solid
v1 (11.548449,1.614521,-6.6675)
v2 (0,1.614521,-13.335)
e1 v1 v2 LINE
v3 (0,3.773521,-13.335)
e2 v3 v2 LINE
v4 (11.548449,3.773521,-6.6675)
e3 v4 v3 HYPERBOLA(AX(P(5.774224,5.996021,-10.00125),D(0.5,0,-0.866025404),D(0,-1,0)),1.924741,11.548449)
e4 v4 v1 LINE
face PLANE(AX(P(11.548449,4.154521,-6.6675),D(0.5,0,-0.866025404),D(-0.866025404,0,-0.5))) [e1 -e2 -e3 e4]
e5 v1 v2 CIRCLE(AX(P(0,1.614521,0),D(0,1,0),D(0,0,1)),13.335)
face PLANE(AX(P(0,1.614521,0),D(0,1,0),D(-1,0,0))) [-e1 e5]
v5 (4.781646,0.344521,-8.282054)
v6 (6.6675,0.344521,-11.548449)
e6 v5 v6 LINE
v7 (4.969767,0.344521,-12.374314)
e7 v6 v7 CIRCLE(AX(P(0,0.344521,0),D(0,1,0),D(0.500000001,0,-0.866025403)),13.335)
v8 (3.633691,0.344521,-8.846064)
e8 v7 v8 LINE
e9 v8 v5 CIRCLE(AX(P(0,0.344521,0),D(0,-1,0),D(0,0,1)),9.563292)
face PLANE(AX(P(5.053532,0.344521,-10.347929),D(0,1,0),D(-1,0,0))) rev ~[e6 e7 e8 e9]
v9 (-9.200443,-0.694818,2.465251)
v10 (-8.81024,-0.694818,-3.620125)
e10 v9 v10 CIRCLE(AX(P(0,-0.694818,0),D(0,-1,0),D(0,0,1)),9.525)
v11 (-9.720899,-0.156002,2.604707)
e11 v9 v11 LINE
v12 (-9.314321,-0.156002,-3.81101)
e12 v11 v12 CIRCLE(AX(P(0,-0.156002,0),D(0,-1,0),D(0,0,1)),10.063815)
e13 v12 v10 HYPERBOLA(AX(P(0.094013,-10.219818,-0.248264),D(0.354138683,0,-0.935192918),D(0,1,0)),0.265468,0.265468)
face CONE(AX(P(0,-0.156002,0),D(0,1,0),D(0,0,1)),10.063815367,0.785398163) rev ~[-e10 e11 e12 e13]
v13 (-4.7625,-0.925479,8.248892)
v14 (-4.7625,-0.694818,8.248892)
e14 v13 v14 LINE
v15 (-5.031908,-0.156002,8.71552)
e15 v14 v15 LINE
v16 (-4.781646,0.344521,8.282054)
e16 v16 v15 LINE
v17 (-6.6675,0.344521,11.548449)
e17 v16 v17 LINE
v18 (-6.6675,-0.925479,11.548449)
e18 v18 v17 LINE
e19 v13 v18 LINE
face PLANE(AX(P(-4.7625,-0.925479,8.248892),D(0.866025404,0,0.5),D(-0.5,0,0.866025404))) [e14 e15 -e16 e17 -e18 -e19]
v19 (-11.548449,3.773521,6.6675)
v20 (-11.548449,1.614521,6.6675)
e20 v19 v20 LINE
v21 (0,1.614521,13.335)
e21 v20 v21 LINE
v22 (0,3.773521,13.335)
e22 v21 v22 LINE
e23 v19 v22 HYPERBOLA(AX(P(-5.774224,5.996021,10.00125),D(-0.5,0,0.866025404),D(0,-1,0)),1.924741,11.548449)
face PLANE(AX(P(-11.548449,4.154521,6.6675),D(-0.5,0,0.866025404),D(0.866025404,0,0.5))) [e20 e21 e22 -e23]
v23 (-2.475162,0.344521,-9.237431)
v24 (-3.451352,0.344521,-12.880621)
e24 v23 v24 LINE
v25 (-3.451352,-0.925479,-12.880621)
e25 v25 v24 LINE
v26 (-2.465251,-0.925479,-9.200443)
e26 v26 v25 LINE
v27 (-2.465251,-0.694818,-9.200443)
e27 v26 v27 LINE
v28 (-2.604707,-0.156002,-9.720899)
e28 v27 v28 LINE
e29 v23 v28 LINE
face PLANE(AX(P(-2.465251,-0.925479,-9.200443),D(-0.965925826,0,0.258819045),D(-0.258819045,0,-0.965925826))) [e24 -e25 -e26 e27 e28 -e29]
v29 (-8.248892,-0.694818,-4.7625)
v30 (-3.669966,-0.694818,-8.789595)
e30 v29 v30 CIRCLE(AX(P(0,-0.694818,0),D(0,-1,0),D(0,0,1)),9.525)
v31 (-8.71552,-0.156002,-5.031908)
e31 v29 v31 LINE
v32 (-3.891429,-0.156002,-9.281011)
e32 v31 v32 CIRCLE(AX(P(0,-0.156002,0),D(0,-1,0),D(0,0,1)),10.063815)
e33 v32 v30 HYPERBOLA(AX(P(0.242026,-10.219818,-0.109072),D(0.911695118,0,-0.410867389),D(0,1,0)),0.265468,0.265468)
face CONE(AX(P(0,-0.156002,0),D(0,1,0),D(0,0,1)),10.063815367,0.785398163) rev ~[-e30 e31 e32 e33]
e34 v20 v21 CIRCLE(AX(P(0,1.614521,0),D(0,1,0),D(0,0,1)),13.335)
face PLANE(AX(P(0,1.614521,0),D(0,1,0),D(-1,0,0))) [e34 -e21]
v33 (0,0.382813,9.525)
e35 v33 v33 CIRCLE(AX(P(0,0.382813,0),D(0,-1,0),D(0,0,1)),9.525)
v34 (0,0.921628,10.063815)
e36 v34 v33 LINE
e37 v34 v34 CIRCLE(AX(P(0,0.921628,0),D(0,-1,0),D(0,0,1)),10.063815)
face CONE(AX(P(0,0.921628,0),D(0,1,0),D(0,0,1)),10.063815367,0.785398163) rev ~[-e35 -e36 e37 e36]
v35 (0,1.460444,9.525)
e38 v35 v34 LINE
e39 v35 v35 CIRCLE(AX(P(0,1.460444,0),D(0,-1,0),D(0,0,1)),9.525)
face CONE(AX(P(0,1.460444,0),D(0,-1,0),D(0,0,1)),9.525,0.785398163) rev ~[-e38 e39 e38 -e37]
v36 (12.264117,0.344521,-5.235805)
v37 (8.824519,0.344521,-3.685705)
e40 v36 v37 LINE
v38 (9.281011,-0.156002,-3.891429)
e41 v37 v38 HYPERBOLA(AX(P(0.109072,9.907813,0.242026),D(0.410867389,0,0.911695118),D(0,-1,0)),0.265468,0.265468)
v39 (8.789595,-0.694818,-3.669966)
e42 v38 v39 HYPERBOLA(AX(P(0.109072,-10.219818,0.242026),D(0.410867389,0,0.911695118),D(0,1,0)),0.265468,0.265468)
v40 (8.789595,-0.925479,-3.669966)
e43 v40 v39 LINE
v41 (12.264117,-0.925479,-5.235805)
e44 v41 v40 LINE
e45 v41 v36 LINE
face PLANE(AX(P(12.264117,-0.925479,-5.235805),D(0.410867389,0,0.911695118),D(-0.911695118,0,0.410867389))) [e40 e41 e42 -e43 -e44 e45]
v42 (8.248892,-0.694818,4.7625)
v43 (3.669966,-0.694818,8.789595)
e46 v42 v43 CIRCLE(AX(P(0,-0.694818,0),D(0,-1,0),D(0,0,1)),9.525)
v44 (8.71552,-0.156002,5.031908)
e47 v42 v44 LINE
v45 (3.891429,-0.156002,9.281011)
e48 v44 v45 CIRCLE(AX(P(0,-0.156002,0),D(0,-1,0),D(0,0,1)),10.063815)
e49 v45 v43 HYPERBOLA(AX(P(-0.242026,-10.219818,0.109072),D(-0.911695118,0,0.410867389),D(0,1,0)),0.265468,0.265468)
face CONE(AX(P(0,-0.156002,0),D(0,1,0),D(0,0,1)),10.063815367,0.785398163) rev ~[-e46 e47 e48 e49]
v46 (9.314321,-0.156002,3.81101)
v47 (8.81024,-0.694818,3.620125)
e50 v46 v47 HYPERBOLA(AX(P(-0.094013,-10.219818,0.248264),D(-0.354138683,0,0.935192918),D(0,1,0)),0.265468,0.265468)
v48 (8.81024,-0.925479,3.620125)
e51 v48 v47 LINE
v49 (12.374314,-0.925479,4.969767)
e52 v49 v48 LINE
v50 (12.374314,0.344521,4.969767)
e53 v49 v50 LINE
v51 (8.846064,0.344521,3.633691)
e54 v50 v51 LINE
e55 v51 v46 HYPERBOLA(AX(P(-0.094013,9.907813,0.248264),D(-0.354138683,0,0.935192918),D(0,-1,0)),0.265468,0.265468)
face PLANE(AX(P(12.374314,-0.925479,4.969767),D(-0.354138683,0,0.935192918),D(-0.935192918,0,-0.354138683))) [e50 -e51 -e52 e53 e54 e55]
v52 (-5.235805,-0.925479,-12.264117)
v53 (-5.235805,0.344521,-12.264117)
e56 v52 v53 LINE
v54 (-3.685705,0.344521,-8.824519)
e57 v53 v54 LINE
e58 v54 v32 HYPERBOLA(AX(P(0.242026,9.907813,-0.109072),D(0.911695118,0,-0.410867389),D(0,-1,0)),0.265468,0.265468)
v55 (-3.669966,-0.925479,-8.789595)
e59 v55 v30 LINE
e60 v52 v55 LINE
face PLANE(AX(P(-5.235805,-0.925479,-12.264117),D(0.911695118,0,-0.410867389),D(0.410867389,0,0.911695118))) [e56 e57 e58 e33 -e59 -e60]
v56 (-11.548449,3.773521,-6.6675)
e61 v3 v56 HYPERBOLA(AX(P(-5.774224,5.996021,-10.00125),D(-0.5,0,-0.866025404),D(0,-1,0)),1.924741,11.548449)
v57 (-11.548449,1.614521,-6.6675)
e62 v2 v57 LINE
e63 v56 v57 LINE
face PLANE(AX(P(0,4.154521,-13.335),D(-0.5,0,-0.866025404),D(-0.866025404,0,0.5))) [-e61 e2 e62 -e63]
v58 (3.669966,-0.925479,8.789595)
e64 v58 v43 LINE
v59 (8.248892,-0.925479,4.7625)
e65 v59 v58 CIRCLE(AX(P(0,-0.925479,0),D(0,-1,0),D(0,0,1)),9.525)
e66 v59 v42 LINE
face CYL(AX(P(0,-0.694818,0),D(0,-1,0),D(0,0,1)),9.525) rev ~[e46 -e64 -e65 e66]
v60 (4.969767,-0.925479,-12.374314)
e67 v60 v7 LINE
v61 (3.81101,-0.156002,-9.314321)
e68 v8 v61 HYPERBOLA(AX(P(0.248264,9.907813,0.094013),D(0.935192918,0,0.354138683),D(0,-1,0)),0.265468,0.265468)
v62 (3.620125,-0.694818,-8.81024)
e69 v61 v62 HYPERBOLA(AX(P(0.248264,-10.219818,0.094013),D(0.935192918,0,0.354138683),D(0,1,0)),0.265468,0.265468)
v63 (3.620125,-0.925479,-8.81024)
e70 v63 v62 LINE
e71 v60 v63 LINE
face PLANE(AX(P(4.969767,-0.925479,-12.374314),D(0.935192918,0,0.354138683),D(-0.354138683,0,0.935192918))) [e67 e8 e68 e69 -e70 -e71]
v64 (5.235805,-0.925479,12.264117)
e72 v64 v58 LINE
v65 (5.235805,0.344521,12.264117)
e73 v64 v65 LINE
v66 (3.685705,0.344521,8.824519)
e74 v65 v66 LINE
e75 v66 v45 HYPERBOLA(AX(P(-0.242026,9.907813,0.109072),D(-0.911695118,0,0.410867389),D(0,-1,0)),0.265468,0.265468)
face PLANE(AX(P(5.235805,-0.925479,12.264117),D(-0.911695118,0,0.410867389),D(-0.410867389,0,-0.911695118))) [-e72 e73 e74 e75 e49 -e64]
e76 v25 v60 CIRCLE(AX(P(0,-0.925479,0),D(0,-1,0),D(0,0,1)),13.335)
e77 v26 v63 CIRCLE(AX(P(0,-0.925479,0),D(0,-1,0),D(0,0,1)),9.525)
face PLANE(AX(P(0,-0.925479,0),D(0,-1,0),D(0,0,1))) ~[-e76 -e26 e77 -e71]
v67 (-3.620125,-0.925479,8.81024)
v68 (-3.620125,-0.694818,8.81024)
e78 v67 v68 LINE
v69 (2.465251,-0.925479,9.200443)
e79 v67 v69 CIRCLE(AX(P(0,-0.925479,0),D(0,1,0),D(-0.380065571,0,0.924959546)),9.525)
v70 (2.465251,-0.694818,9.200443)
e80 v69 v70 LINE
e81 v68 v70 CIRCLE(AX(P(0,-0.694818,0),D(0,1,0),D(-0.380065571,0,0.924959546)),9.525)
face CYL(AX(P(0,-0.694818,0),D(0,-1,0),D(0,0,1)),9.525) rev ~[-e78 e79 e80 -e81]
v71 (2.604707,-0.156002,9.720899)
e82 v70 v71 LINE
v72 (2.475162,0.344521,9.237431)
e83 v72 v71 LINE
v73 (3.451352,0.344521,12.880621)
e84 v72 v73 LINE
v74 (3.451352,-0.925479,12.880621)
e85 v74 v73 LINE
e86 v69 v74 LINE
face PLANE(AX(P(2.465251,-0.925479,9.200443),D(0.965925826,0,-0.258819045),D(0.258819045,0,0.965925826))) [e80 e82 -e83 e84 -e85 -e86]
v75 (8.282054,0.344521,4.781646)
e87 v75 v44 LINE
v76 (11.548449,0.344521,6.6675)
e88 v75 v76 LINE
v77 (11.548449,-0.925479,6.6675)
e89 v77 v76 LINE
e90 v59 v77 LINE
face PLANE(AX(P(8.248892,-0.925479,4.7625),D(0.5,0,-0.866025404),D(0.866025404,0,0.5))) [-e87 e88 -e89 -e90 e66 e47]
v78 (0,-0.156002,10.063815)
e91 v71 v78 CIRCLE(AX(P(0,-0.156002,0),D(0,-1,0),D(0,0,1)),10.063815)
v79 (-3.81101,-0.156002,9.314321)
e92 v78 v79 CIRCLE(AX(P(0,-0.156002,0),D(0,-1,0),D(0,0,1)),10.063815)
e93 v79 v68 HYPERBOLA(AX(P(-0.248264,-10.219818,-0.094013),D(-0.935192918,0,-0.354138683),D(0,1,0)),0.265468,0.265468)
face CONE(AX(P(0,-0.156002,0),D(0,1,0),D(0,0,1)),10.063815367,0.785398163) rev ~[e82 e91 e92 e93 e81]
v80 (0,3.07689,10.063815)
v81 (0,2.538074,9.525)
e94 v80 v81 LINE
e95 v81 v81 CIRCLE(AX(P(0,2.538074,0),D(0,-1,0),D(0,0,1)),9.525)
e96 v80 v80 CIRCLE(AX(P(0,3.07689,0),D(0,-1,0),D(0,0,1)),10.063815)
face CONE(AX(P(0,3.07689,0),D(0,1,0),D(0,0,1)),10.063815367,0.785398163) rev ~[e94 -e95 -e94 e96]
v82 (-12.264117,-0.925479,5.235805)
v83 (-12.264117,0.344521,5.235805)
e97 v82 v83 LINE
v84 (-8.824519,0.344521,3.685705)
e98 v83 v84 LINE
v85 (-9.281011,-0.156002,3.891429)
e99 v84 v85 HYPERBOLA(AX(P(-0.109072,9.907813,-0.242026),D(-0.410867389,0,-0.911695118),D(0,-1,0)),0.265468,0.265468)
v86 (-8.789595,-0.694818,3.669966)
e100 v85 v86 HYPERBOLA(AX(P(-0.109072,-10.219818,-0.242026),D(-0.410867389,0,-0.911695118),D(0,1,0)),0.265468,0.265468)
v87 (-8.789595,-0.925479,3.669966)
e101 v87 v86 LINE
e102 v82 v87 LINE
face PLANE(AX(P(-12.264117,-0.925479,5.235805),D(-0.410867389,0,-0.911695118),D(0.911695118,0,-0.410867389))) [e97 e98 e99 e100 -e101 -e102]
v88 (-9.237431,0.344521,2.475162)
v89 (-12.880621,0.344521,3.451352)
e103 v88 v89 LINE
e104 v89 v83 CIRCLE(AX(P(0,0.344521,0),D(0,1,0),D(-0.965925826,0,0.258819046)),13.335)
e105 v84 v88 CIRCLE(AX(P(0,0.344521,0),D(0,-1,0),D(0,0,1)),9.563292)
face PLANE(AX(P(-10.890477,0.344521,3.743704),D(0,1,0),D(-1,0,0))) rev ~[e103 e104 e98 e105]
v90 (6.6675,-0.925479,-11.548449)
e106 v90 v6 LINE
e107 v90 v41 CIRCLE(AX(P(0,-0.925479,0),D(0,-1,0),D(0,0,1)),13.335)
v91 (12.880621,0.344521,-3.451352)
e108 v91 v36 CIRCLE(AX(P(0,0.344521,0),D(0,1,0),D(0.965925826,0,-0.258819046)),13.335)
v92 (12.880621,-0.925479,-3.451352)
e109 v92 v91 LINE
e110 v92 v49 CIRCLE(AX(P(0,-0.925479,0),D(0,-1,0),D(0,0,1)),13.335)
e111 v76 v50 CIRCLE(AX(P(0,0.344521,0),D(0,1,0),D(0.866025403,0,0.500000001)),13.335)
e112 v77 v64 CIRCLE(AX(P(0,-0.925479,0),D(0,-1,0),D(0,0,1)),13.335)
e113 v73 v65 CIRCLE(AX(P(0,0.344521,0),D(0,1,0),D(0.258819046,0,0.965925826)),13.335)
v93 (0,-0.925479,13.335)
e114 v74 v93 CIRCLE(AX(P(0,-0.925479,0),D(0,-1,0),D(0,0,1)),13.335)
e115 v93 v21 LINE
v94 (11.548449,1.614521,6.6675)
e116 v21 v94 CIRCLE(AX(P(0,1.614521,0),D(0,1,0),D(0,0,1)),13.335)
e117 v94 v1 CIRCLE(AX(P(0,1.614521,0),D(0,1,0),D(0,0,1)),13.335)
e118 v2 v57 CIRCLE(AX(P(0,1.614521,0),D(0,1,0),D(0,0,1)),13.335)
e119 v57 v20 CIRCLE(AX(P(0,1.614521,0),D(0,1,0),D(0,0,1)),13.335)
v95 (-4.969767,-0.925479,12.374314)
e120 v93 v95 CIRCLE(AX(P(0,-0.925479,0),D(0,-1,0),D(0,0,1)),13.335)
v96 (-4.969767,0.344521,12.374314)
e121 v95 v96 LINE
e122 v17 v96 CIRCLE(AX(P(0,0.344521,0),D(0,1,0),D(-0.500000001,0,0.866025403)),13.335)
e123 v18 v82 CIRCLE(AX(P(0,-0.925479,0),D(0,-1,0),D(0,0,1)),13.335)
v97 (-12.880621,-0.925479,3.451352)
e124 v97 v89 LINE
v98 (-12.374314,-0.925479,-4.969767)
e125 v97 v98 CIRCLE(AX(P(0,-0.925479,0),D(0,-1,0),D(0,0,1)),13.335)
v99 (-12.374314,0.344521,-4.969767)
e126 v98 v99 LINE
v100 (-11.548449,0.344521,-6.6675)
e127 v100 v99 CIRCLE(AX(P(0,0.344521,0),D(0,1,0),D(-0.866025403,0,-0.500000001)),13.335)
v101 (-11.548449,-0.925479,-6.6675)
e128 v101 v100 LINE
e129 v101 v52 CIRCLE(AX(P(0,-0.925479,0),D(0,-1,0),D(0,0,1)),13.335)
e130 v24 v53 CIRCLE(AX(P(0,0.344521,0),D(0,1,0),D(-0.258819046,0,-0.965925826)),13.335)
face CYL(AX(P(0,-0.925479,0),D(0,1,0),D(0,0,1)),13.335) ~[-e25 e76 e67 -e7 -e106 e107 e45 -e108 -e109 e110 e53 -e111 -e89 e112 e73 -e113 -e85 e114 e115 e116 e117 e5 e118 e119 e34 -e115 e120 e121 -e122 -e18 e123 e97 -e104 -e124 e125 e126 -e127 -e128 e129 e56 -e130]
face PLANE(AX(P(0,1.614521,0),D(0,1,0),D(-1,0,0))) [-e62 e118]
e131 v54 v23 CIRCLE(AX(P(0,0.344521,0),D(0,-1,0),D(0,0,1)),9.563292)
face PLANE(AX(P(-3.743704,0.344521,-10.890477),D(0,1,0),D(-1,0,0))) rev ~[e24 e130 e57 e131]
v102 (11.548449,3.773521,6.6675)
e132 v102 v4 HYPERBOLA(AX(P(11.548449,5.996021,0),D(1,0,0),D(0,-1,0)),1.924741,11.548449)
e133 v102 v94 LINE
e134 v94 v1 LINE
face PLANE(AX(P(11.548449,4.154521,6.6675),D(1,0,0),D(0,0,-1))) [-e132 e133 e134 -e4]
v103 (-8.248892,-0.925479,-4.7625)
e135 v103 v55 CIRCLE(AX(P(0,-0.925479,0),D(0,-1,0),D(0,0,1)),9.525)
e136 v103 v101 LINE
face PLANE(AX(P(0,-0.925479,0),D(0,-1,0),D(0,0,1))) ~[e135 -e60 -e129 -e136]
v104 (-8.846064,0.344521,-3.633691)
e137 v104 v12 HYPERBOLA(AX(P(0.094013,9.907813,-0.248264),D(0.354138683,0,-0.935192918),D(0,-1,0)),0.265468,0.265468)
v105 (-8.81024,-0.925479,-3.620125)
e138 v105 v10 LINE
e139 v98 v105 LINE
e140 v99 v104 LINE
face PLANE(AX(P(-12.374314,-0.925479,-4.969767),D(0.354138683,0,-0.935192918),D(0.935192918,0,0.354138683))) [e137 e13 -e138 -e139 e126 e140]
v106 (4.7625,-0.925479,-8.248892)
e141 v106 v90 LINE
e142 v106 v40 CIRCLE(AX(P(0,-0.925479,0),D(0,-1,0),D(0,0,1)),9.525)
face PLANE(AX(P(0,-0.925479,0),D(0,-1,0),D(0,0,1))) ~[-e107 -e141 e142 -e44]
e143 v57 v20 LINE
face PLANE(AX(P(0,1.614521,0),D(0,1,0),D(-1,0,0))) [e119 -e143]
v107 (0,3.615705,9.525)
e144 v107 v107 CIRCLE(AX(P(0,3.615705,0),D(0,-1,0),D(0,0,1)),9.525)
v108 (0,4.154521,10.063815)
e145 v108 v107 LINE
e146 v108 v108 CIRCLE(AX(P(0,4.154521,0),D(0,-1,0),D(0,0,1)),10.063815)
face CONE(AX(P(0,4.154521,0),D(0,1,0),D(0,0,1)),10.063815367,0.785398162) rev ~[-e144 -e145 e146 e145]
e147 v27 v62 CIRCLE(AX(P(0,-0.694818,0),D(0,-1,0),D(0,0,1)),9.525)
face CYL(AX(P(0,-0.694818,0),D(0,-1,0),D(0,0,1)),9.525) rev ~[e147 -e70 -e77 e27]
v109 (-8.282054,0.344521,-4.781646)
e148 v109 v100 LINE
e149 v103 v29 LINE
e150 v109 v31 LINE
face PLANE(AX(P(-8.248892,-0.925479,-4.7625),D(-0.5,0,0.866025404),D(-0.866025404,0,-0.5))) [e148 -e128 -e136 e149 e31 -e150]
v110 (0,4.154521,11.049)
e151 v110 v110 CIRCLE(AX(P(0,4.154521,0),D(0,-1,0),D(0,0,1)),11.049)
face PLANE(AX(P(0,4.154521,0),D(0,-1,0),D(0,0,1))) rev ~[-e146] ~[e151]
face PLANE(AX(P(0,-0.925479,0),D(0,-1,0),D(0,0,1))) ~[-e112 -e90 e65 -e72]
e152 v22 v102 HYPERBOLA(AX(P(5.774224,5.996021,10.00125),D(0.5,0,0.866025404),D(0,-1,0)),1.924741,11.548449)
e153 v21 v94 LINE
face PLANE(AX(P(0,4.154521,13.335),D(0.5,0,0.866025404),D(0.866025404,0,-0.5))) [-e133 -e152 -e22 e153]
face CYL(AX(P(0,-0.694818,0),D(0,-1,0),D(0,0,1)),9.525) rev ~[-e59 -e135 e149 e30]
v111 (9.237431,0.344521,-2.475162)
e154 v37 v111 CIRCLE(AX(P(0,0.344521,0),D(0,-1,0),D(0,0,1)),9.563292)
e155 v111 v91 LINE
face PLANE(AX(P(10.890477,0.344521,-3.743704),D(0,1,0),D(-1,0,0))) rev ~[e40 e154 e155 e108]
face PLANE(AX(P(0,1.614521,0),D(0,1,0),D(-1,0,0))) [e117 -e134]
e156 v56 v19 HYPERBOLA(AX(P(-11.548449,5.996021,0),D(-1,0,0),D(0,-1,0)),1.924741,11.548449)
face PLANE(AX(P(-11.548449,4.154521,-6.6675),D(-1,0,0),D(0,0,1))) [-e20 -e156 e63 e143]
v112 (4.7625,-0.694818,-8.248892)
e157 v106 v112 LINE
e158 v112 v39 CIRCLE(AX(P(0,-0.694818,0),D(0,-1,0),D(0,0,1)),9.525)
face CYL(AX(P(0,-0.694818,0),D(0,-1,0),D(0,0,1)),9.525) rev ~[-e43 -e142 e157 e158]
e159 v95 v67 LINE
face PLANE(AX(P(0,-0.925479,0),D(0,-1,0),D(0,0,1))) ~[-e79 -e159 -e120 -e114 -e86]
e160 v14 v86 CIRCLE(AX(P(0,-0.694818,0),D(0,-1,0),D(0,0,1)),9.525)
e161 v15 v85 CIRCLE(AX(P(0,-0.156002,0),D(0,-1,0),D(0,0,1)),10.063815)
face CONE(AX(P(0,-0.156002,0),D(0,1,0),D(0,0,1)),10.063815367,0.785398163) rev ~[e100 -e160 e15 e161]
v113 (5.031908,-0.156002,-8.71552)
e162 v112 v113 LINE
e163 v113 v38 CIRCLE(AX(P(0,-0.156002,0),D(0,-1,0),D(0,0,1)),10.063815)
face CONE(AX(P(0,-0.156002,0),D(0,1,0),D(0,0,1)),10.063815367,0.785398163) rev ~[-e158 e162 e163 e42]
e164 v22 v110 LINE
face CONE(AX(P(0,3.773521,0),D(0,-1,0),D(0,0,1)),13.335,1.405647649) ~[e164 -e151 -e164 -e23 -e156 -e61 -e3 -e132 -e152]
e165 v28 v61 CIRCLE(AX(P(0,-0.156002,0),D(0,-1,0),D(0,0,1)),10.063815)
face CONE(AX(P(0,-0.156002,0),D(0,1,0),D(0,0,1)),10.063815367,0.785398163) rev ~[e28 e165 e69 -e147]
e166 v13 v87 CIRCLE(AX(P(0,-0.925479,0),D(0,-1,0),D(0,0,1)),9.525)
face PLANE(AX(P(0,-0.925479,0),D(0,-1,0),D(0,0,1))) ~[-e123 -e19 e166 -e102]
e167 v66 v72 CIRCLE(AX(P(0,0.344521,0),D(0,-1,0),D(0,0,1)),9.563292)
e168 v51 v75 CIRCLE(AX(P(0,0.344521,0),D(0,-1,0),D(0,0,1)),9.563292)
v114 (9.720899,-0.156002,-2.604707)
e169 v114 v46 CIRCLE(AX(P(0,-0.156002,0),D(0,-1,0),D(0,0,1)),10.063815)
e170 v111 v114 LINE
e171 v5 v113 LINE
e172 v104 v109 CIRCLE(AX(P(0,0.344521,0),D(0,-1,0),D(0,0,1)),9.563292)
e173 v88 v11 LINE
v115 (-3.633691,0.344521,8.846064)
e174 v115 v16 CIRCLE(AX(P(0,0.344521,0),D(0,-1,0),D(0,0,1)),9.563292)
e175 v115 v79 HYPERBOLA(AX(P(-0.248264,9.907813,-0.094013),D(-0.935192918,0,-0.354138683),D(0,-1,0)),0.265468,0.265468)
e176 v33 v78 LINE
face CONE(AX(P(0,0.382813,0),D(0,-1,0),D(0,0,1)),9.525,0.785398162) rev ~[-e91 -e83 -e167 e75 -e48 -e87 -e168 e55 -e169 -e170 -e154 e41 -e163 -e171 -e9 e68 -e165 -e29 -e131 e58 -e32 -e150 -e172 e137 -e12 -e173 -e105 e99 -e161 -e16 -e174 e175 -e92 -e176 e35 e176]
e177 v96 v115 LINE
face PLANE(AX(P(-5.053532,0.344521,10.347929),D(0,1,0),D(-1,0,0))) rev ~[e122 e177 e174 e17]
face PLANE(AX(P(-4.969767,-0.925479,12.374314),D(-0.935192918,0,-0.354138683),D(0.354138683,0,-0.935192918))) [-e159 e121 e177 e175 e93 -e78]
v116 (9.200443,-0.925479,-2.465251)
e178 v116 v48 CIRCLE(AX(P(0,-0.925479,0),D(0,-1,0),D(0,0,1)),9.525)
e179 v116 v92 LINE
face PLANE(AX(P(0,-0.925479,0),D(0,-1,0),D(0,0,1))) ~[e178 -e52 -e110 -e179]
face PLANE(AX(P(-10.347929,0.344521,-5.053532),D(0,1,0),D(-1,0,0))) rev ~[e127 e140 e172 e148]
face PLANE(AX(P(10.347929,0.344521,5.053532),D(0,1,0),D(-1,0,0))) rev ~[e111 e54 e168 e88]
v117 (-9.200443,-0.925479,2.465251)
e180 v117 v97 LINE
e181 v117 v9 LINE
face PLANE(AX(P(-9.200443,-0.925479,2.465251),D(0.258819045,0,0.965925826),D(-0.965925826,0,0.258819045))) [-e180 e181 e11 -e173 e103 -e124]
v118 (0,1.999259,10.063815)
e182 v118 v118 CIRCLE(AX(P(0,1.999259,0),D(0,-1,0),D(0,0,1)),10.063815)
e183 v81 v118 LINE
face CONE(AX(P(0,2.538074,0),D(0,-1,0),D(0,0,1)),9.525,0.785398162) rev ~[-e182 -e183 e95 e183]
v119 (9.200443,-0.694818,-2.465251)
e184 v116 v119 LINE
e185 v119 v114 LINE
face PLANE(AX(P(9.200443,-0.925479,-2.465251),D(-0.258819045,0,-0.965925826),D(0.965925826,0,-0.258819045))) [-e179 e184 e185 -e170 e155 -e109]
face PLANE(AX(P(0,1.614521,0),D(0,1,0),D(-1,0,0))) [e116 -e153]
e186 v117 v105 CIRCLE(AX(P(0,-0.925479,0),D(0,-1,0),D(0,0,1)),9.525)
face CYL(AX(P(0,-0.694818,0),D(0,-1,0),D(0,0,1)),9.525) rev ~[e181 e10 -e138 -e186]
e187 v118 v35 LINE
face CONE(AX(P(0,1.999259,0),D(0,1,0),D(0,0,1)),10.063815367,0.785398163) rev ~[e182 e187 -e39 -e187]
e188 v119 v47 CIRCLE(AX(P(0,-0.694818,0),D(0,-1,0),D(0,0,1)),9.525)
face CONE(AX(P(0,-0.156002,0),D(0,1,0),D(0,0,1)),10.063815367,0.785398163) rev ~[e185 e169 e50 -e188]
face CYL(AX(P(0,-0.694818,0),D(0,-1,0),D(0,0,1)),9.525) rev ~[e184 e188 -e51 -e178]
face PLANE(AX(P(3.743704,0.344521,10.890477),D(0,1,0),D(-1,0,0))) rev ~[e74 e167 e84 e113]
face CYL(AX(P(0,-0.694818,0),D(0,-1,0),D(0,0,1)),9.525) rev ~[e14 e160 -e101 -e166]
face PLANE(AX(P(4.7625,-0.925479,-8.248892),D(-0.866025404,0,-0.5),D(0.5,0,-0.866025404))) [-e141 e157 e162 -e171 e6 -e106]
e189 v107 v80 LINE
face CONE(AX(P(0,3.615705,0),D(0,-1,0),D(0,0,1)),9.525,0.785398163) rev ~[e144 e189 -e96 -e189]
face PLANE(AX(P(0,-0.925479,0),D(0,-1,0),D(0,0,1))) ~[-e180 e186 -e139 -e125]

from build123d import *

# Parameters (mm, degrees)
SKETCH2_OUTSIDE_W  = 36.282
SKETCH2_OUTSIDE_H  = 36.282
CUT_EXTRUDE1_DEPTH = 2.54
CUT_EXTRUDE2_DEPTH = 1.27


with BuildPart() as part:
    # Sketch1 → Revolve1 (revolve)
    with BuildSketch(Plane(origin=(0, 0, 0), x_dir=(0, 0, -1), z_dir=(1, 0, 0)), mode=Mode.PRIVATE) as revolve1_sk:
        Polygon((9.525, -0.925479408), (13.335, -0.925479408), (13.335, 3.773520592), (11.049, 4.154520592), (10.063815367, 4.154520592), (9.525, 3.615705224), (10.063815367, 3.076889857), (9.525, 2.53807449), (10.063815367, 1.999259122), (9.525, 1.460443755), (10.063815367, 0.921628388), (9.525, 0.382813021), (10.063815367, -0.156002347), (9.525, -0.694817714), align=None)
    revolve(revolve1_sk.sketch.rotate(Axis((0, 15.090367901, 0), (0, -1, 0)), 180), axis=Axis((0, 15.090367901, 0), (0, -1, 0)))

    # Sketch2 outside → Cut-Extrude1 (cut)
    with BuildSketch(Plane(origin=(0, 4.154520592, 0), x_dir=(-1, 0, 0), z_dir=(0, 1, 0))):
        Rectangle(SKETCH2_OUTSIDE_W, SKETCH2_OUTSIDE_H)
        Polygon((0, -13.335), (11.548448759, -6.6675), (11.548448759, 6.6675), (0, 13.335), (-11.548448759, 6.6675), (-11.548448759, -6.6675), align=None, mode=Mode.SUBTRACT)
    extrude(amount=-CUT_EXTRUDE1_DEPTH, mode=Mode.SUBTRACT)

    # Sketch3 → Cut-Extrude2 (cut)
    with BuildSketch(Plane.XZ.offset(0.925479408)):
        with BuildLine():
            Line((-4.7625, 8.248891971), (-6.6675, 11.548448759))
            ThreePointArc((-6.6675, 11.548448759), (-5.833267647, 11.991464196), (-4.969767422, 12.374313588))
            Line((-4.969767422, 12.374313588), (-3.620124564, 8.810239675))
            ThreePointArc((-3.620124564, 8.810239675), (-4.20069952, 8.548669402), (-4.7625, 8.248891971))
        make_face()
        with BuildLine():
            Line((2.465251405, 9.200443495), (3.451351966, 12.880620894))
            ThreePointArc((3.451351966, 12.880620894), (4.354502539, 12.603988759), (5.235804805, 12.264117296))
            Line((5.235804805, 12.264117296), (3.66996559, 8.789594847))
            ThreePointArc((3.66996559, 8.789594847), (3.074478988, 9.015165221), (2.465251405, 9.200443495))
        make_face()
        with BuildLine():
            Line((8.248891971, 4.7625), (11.548448759, 6.6675))
            ThreePointArc((11.548448759, 6.6675), (11.991464196, 5.833267647), (12.374313588, 4.969767422))
            Line((12.374313588, 4.969767422), (8.810239675, 3.620124564))
            ThreePointArc((8.810239675, 3.620124564), (8.548669402, 4.20069952), (8.248891971, 4.7625))
        make_face()
        with BuildLine():
            Line((9.200443495, -2.465251405), (12.880620894, -3.451351966))
            ThreePointArc((12.880620894, -3.451351966), (12.603988759, -4.354502539), (12.264117296, -5.235804805))
            Line((12.264117296, -5.235804805), (8.789594847, -3.66996559))
            ThreePointArc((8.789594847, -3.66996559), (9.015165221, -3.074478988), (9.200443495, -2.465251405))
        make_face()
        with BuildLine():
            Line((4.7625, -8.248891971), (6.6675, -11.548448759))
            ThreePointArc((6.6675, -11.548448759), (5.833267647, -11.991464196), (4.969767422, -12.374313588))
            Line((4.969767422, -12.374313588), (3.620124564, -8.810239675))
            ThreePointArc((3.620124564, -8.810239675), (4.20069952, -8.548669402), (4.7625, -8.248891971))
        make_face()
        with BuildLine():
            Line((-2.465251405, -9.200443495), (-3.451351966, -12.880620894))
            ThreePointArc((-3.451351966, -12.880620894), (-4.354502539, -12.603988759), (-5.235804805, -12.264117296))
            Line((-5.235804805, -12.264117296), (-3.66996559, -8.789594847))
            ThreePointArc((-3.66996559, -8.789594847), (-3.074478988, -9.015165221), (-2.465251405, -9.200443495))
        make_face()
        with BuildLine():
            Line((-8.248891971, -4.7625), (-11.548448759, -6.6675))
            ThreePointArc((-11.548448759, -6.6675), (-11.991464196, -5.833267647), (-12.374313588, -4.969767422))
            Line((-12.374313588, -4.969767422), (-8.810239675, -3.620124564))
            ThreePointArc((-8.810239675, -3.620124564), (-8.548669402, -4.20069952), (-8.248891971, -4.7625))
        make_face()
        with BuildLine():
            Line((-9.200443495, 2.465251405), (-12.880620894, 3.451351966))
            ThreePointArc((-12.880620894, 3.451351966), (-12.603988759, 4.354502539), (-12.264117296, 5.235804805))
            Line((-12.264117296, 5.235804805), (-8.789594847, 3.66996559))
            ThreePointArc((-8.789594847, 3.66996559), (-9.015165221, 3.074478988), (-9.200443495, 2.465251405))
        make_face()
    extrude(amount=-CUT_EXTRUDE2_DEPTH, mode=Mode.SUBTRACT)


solid = part.part
